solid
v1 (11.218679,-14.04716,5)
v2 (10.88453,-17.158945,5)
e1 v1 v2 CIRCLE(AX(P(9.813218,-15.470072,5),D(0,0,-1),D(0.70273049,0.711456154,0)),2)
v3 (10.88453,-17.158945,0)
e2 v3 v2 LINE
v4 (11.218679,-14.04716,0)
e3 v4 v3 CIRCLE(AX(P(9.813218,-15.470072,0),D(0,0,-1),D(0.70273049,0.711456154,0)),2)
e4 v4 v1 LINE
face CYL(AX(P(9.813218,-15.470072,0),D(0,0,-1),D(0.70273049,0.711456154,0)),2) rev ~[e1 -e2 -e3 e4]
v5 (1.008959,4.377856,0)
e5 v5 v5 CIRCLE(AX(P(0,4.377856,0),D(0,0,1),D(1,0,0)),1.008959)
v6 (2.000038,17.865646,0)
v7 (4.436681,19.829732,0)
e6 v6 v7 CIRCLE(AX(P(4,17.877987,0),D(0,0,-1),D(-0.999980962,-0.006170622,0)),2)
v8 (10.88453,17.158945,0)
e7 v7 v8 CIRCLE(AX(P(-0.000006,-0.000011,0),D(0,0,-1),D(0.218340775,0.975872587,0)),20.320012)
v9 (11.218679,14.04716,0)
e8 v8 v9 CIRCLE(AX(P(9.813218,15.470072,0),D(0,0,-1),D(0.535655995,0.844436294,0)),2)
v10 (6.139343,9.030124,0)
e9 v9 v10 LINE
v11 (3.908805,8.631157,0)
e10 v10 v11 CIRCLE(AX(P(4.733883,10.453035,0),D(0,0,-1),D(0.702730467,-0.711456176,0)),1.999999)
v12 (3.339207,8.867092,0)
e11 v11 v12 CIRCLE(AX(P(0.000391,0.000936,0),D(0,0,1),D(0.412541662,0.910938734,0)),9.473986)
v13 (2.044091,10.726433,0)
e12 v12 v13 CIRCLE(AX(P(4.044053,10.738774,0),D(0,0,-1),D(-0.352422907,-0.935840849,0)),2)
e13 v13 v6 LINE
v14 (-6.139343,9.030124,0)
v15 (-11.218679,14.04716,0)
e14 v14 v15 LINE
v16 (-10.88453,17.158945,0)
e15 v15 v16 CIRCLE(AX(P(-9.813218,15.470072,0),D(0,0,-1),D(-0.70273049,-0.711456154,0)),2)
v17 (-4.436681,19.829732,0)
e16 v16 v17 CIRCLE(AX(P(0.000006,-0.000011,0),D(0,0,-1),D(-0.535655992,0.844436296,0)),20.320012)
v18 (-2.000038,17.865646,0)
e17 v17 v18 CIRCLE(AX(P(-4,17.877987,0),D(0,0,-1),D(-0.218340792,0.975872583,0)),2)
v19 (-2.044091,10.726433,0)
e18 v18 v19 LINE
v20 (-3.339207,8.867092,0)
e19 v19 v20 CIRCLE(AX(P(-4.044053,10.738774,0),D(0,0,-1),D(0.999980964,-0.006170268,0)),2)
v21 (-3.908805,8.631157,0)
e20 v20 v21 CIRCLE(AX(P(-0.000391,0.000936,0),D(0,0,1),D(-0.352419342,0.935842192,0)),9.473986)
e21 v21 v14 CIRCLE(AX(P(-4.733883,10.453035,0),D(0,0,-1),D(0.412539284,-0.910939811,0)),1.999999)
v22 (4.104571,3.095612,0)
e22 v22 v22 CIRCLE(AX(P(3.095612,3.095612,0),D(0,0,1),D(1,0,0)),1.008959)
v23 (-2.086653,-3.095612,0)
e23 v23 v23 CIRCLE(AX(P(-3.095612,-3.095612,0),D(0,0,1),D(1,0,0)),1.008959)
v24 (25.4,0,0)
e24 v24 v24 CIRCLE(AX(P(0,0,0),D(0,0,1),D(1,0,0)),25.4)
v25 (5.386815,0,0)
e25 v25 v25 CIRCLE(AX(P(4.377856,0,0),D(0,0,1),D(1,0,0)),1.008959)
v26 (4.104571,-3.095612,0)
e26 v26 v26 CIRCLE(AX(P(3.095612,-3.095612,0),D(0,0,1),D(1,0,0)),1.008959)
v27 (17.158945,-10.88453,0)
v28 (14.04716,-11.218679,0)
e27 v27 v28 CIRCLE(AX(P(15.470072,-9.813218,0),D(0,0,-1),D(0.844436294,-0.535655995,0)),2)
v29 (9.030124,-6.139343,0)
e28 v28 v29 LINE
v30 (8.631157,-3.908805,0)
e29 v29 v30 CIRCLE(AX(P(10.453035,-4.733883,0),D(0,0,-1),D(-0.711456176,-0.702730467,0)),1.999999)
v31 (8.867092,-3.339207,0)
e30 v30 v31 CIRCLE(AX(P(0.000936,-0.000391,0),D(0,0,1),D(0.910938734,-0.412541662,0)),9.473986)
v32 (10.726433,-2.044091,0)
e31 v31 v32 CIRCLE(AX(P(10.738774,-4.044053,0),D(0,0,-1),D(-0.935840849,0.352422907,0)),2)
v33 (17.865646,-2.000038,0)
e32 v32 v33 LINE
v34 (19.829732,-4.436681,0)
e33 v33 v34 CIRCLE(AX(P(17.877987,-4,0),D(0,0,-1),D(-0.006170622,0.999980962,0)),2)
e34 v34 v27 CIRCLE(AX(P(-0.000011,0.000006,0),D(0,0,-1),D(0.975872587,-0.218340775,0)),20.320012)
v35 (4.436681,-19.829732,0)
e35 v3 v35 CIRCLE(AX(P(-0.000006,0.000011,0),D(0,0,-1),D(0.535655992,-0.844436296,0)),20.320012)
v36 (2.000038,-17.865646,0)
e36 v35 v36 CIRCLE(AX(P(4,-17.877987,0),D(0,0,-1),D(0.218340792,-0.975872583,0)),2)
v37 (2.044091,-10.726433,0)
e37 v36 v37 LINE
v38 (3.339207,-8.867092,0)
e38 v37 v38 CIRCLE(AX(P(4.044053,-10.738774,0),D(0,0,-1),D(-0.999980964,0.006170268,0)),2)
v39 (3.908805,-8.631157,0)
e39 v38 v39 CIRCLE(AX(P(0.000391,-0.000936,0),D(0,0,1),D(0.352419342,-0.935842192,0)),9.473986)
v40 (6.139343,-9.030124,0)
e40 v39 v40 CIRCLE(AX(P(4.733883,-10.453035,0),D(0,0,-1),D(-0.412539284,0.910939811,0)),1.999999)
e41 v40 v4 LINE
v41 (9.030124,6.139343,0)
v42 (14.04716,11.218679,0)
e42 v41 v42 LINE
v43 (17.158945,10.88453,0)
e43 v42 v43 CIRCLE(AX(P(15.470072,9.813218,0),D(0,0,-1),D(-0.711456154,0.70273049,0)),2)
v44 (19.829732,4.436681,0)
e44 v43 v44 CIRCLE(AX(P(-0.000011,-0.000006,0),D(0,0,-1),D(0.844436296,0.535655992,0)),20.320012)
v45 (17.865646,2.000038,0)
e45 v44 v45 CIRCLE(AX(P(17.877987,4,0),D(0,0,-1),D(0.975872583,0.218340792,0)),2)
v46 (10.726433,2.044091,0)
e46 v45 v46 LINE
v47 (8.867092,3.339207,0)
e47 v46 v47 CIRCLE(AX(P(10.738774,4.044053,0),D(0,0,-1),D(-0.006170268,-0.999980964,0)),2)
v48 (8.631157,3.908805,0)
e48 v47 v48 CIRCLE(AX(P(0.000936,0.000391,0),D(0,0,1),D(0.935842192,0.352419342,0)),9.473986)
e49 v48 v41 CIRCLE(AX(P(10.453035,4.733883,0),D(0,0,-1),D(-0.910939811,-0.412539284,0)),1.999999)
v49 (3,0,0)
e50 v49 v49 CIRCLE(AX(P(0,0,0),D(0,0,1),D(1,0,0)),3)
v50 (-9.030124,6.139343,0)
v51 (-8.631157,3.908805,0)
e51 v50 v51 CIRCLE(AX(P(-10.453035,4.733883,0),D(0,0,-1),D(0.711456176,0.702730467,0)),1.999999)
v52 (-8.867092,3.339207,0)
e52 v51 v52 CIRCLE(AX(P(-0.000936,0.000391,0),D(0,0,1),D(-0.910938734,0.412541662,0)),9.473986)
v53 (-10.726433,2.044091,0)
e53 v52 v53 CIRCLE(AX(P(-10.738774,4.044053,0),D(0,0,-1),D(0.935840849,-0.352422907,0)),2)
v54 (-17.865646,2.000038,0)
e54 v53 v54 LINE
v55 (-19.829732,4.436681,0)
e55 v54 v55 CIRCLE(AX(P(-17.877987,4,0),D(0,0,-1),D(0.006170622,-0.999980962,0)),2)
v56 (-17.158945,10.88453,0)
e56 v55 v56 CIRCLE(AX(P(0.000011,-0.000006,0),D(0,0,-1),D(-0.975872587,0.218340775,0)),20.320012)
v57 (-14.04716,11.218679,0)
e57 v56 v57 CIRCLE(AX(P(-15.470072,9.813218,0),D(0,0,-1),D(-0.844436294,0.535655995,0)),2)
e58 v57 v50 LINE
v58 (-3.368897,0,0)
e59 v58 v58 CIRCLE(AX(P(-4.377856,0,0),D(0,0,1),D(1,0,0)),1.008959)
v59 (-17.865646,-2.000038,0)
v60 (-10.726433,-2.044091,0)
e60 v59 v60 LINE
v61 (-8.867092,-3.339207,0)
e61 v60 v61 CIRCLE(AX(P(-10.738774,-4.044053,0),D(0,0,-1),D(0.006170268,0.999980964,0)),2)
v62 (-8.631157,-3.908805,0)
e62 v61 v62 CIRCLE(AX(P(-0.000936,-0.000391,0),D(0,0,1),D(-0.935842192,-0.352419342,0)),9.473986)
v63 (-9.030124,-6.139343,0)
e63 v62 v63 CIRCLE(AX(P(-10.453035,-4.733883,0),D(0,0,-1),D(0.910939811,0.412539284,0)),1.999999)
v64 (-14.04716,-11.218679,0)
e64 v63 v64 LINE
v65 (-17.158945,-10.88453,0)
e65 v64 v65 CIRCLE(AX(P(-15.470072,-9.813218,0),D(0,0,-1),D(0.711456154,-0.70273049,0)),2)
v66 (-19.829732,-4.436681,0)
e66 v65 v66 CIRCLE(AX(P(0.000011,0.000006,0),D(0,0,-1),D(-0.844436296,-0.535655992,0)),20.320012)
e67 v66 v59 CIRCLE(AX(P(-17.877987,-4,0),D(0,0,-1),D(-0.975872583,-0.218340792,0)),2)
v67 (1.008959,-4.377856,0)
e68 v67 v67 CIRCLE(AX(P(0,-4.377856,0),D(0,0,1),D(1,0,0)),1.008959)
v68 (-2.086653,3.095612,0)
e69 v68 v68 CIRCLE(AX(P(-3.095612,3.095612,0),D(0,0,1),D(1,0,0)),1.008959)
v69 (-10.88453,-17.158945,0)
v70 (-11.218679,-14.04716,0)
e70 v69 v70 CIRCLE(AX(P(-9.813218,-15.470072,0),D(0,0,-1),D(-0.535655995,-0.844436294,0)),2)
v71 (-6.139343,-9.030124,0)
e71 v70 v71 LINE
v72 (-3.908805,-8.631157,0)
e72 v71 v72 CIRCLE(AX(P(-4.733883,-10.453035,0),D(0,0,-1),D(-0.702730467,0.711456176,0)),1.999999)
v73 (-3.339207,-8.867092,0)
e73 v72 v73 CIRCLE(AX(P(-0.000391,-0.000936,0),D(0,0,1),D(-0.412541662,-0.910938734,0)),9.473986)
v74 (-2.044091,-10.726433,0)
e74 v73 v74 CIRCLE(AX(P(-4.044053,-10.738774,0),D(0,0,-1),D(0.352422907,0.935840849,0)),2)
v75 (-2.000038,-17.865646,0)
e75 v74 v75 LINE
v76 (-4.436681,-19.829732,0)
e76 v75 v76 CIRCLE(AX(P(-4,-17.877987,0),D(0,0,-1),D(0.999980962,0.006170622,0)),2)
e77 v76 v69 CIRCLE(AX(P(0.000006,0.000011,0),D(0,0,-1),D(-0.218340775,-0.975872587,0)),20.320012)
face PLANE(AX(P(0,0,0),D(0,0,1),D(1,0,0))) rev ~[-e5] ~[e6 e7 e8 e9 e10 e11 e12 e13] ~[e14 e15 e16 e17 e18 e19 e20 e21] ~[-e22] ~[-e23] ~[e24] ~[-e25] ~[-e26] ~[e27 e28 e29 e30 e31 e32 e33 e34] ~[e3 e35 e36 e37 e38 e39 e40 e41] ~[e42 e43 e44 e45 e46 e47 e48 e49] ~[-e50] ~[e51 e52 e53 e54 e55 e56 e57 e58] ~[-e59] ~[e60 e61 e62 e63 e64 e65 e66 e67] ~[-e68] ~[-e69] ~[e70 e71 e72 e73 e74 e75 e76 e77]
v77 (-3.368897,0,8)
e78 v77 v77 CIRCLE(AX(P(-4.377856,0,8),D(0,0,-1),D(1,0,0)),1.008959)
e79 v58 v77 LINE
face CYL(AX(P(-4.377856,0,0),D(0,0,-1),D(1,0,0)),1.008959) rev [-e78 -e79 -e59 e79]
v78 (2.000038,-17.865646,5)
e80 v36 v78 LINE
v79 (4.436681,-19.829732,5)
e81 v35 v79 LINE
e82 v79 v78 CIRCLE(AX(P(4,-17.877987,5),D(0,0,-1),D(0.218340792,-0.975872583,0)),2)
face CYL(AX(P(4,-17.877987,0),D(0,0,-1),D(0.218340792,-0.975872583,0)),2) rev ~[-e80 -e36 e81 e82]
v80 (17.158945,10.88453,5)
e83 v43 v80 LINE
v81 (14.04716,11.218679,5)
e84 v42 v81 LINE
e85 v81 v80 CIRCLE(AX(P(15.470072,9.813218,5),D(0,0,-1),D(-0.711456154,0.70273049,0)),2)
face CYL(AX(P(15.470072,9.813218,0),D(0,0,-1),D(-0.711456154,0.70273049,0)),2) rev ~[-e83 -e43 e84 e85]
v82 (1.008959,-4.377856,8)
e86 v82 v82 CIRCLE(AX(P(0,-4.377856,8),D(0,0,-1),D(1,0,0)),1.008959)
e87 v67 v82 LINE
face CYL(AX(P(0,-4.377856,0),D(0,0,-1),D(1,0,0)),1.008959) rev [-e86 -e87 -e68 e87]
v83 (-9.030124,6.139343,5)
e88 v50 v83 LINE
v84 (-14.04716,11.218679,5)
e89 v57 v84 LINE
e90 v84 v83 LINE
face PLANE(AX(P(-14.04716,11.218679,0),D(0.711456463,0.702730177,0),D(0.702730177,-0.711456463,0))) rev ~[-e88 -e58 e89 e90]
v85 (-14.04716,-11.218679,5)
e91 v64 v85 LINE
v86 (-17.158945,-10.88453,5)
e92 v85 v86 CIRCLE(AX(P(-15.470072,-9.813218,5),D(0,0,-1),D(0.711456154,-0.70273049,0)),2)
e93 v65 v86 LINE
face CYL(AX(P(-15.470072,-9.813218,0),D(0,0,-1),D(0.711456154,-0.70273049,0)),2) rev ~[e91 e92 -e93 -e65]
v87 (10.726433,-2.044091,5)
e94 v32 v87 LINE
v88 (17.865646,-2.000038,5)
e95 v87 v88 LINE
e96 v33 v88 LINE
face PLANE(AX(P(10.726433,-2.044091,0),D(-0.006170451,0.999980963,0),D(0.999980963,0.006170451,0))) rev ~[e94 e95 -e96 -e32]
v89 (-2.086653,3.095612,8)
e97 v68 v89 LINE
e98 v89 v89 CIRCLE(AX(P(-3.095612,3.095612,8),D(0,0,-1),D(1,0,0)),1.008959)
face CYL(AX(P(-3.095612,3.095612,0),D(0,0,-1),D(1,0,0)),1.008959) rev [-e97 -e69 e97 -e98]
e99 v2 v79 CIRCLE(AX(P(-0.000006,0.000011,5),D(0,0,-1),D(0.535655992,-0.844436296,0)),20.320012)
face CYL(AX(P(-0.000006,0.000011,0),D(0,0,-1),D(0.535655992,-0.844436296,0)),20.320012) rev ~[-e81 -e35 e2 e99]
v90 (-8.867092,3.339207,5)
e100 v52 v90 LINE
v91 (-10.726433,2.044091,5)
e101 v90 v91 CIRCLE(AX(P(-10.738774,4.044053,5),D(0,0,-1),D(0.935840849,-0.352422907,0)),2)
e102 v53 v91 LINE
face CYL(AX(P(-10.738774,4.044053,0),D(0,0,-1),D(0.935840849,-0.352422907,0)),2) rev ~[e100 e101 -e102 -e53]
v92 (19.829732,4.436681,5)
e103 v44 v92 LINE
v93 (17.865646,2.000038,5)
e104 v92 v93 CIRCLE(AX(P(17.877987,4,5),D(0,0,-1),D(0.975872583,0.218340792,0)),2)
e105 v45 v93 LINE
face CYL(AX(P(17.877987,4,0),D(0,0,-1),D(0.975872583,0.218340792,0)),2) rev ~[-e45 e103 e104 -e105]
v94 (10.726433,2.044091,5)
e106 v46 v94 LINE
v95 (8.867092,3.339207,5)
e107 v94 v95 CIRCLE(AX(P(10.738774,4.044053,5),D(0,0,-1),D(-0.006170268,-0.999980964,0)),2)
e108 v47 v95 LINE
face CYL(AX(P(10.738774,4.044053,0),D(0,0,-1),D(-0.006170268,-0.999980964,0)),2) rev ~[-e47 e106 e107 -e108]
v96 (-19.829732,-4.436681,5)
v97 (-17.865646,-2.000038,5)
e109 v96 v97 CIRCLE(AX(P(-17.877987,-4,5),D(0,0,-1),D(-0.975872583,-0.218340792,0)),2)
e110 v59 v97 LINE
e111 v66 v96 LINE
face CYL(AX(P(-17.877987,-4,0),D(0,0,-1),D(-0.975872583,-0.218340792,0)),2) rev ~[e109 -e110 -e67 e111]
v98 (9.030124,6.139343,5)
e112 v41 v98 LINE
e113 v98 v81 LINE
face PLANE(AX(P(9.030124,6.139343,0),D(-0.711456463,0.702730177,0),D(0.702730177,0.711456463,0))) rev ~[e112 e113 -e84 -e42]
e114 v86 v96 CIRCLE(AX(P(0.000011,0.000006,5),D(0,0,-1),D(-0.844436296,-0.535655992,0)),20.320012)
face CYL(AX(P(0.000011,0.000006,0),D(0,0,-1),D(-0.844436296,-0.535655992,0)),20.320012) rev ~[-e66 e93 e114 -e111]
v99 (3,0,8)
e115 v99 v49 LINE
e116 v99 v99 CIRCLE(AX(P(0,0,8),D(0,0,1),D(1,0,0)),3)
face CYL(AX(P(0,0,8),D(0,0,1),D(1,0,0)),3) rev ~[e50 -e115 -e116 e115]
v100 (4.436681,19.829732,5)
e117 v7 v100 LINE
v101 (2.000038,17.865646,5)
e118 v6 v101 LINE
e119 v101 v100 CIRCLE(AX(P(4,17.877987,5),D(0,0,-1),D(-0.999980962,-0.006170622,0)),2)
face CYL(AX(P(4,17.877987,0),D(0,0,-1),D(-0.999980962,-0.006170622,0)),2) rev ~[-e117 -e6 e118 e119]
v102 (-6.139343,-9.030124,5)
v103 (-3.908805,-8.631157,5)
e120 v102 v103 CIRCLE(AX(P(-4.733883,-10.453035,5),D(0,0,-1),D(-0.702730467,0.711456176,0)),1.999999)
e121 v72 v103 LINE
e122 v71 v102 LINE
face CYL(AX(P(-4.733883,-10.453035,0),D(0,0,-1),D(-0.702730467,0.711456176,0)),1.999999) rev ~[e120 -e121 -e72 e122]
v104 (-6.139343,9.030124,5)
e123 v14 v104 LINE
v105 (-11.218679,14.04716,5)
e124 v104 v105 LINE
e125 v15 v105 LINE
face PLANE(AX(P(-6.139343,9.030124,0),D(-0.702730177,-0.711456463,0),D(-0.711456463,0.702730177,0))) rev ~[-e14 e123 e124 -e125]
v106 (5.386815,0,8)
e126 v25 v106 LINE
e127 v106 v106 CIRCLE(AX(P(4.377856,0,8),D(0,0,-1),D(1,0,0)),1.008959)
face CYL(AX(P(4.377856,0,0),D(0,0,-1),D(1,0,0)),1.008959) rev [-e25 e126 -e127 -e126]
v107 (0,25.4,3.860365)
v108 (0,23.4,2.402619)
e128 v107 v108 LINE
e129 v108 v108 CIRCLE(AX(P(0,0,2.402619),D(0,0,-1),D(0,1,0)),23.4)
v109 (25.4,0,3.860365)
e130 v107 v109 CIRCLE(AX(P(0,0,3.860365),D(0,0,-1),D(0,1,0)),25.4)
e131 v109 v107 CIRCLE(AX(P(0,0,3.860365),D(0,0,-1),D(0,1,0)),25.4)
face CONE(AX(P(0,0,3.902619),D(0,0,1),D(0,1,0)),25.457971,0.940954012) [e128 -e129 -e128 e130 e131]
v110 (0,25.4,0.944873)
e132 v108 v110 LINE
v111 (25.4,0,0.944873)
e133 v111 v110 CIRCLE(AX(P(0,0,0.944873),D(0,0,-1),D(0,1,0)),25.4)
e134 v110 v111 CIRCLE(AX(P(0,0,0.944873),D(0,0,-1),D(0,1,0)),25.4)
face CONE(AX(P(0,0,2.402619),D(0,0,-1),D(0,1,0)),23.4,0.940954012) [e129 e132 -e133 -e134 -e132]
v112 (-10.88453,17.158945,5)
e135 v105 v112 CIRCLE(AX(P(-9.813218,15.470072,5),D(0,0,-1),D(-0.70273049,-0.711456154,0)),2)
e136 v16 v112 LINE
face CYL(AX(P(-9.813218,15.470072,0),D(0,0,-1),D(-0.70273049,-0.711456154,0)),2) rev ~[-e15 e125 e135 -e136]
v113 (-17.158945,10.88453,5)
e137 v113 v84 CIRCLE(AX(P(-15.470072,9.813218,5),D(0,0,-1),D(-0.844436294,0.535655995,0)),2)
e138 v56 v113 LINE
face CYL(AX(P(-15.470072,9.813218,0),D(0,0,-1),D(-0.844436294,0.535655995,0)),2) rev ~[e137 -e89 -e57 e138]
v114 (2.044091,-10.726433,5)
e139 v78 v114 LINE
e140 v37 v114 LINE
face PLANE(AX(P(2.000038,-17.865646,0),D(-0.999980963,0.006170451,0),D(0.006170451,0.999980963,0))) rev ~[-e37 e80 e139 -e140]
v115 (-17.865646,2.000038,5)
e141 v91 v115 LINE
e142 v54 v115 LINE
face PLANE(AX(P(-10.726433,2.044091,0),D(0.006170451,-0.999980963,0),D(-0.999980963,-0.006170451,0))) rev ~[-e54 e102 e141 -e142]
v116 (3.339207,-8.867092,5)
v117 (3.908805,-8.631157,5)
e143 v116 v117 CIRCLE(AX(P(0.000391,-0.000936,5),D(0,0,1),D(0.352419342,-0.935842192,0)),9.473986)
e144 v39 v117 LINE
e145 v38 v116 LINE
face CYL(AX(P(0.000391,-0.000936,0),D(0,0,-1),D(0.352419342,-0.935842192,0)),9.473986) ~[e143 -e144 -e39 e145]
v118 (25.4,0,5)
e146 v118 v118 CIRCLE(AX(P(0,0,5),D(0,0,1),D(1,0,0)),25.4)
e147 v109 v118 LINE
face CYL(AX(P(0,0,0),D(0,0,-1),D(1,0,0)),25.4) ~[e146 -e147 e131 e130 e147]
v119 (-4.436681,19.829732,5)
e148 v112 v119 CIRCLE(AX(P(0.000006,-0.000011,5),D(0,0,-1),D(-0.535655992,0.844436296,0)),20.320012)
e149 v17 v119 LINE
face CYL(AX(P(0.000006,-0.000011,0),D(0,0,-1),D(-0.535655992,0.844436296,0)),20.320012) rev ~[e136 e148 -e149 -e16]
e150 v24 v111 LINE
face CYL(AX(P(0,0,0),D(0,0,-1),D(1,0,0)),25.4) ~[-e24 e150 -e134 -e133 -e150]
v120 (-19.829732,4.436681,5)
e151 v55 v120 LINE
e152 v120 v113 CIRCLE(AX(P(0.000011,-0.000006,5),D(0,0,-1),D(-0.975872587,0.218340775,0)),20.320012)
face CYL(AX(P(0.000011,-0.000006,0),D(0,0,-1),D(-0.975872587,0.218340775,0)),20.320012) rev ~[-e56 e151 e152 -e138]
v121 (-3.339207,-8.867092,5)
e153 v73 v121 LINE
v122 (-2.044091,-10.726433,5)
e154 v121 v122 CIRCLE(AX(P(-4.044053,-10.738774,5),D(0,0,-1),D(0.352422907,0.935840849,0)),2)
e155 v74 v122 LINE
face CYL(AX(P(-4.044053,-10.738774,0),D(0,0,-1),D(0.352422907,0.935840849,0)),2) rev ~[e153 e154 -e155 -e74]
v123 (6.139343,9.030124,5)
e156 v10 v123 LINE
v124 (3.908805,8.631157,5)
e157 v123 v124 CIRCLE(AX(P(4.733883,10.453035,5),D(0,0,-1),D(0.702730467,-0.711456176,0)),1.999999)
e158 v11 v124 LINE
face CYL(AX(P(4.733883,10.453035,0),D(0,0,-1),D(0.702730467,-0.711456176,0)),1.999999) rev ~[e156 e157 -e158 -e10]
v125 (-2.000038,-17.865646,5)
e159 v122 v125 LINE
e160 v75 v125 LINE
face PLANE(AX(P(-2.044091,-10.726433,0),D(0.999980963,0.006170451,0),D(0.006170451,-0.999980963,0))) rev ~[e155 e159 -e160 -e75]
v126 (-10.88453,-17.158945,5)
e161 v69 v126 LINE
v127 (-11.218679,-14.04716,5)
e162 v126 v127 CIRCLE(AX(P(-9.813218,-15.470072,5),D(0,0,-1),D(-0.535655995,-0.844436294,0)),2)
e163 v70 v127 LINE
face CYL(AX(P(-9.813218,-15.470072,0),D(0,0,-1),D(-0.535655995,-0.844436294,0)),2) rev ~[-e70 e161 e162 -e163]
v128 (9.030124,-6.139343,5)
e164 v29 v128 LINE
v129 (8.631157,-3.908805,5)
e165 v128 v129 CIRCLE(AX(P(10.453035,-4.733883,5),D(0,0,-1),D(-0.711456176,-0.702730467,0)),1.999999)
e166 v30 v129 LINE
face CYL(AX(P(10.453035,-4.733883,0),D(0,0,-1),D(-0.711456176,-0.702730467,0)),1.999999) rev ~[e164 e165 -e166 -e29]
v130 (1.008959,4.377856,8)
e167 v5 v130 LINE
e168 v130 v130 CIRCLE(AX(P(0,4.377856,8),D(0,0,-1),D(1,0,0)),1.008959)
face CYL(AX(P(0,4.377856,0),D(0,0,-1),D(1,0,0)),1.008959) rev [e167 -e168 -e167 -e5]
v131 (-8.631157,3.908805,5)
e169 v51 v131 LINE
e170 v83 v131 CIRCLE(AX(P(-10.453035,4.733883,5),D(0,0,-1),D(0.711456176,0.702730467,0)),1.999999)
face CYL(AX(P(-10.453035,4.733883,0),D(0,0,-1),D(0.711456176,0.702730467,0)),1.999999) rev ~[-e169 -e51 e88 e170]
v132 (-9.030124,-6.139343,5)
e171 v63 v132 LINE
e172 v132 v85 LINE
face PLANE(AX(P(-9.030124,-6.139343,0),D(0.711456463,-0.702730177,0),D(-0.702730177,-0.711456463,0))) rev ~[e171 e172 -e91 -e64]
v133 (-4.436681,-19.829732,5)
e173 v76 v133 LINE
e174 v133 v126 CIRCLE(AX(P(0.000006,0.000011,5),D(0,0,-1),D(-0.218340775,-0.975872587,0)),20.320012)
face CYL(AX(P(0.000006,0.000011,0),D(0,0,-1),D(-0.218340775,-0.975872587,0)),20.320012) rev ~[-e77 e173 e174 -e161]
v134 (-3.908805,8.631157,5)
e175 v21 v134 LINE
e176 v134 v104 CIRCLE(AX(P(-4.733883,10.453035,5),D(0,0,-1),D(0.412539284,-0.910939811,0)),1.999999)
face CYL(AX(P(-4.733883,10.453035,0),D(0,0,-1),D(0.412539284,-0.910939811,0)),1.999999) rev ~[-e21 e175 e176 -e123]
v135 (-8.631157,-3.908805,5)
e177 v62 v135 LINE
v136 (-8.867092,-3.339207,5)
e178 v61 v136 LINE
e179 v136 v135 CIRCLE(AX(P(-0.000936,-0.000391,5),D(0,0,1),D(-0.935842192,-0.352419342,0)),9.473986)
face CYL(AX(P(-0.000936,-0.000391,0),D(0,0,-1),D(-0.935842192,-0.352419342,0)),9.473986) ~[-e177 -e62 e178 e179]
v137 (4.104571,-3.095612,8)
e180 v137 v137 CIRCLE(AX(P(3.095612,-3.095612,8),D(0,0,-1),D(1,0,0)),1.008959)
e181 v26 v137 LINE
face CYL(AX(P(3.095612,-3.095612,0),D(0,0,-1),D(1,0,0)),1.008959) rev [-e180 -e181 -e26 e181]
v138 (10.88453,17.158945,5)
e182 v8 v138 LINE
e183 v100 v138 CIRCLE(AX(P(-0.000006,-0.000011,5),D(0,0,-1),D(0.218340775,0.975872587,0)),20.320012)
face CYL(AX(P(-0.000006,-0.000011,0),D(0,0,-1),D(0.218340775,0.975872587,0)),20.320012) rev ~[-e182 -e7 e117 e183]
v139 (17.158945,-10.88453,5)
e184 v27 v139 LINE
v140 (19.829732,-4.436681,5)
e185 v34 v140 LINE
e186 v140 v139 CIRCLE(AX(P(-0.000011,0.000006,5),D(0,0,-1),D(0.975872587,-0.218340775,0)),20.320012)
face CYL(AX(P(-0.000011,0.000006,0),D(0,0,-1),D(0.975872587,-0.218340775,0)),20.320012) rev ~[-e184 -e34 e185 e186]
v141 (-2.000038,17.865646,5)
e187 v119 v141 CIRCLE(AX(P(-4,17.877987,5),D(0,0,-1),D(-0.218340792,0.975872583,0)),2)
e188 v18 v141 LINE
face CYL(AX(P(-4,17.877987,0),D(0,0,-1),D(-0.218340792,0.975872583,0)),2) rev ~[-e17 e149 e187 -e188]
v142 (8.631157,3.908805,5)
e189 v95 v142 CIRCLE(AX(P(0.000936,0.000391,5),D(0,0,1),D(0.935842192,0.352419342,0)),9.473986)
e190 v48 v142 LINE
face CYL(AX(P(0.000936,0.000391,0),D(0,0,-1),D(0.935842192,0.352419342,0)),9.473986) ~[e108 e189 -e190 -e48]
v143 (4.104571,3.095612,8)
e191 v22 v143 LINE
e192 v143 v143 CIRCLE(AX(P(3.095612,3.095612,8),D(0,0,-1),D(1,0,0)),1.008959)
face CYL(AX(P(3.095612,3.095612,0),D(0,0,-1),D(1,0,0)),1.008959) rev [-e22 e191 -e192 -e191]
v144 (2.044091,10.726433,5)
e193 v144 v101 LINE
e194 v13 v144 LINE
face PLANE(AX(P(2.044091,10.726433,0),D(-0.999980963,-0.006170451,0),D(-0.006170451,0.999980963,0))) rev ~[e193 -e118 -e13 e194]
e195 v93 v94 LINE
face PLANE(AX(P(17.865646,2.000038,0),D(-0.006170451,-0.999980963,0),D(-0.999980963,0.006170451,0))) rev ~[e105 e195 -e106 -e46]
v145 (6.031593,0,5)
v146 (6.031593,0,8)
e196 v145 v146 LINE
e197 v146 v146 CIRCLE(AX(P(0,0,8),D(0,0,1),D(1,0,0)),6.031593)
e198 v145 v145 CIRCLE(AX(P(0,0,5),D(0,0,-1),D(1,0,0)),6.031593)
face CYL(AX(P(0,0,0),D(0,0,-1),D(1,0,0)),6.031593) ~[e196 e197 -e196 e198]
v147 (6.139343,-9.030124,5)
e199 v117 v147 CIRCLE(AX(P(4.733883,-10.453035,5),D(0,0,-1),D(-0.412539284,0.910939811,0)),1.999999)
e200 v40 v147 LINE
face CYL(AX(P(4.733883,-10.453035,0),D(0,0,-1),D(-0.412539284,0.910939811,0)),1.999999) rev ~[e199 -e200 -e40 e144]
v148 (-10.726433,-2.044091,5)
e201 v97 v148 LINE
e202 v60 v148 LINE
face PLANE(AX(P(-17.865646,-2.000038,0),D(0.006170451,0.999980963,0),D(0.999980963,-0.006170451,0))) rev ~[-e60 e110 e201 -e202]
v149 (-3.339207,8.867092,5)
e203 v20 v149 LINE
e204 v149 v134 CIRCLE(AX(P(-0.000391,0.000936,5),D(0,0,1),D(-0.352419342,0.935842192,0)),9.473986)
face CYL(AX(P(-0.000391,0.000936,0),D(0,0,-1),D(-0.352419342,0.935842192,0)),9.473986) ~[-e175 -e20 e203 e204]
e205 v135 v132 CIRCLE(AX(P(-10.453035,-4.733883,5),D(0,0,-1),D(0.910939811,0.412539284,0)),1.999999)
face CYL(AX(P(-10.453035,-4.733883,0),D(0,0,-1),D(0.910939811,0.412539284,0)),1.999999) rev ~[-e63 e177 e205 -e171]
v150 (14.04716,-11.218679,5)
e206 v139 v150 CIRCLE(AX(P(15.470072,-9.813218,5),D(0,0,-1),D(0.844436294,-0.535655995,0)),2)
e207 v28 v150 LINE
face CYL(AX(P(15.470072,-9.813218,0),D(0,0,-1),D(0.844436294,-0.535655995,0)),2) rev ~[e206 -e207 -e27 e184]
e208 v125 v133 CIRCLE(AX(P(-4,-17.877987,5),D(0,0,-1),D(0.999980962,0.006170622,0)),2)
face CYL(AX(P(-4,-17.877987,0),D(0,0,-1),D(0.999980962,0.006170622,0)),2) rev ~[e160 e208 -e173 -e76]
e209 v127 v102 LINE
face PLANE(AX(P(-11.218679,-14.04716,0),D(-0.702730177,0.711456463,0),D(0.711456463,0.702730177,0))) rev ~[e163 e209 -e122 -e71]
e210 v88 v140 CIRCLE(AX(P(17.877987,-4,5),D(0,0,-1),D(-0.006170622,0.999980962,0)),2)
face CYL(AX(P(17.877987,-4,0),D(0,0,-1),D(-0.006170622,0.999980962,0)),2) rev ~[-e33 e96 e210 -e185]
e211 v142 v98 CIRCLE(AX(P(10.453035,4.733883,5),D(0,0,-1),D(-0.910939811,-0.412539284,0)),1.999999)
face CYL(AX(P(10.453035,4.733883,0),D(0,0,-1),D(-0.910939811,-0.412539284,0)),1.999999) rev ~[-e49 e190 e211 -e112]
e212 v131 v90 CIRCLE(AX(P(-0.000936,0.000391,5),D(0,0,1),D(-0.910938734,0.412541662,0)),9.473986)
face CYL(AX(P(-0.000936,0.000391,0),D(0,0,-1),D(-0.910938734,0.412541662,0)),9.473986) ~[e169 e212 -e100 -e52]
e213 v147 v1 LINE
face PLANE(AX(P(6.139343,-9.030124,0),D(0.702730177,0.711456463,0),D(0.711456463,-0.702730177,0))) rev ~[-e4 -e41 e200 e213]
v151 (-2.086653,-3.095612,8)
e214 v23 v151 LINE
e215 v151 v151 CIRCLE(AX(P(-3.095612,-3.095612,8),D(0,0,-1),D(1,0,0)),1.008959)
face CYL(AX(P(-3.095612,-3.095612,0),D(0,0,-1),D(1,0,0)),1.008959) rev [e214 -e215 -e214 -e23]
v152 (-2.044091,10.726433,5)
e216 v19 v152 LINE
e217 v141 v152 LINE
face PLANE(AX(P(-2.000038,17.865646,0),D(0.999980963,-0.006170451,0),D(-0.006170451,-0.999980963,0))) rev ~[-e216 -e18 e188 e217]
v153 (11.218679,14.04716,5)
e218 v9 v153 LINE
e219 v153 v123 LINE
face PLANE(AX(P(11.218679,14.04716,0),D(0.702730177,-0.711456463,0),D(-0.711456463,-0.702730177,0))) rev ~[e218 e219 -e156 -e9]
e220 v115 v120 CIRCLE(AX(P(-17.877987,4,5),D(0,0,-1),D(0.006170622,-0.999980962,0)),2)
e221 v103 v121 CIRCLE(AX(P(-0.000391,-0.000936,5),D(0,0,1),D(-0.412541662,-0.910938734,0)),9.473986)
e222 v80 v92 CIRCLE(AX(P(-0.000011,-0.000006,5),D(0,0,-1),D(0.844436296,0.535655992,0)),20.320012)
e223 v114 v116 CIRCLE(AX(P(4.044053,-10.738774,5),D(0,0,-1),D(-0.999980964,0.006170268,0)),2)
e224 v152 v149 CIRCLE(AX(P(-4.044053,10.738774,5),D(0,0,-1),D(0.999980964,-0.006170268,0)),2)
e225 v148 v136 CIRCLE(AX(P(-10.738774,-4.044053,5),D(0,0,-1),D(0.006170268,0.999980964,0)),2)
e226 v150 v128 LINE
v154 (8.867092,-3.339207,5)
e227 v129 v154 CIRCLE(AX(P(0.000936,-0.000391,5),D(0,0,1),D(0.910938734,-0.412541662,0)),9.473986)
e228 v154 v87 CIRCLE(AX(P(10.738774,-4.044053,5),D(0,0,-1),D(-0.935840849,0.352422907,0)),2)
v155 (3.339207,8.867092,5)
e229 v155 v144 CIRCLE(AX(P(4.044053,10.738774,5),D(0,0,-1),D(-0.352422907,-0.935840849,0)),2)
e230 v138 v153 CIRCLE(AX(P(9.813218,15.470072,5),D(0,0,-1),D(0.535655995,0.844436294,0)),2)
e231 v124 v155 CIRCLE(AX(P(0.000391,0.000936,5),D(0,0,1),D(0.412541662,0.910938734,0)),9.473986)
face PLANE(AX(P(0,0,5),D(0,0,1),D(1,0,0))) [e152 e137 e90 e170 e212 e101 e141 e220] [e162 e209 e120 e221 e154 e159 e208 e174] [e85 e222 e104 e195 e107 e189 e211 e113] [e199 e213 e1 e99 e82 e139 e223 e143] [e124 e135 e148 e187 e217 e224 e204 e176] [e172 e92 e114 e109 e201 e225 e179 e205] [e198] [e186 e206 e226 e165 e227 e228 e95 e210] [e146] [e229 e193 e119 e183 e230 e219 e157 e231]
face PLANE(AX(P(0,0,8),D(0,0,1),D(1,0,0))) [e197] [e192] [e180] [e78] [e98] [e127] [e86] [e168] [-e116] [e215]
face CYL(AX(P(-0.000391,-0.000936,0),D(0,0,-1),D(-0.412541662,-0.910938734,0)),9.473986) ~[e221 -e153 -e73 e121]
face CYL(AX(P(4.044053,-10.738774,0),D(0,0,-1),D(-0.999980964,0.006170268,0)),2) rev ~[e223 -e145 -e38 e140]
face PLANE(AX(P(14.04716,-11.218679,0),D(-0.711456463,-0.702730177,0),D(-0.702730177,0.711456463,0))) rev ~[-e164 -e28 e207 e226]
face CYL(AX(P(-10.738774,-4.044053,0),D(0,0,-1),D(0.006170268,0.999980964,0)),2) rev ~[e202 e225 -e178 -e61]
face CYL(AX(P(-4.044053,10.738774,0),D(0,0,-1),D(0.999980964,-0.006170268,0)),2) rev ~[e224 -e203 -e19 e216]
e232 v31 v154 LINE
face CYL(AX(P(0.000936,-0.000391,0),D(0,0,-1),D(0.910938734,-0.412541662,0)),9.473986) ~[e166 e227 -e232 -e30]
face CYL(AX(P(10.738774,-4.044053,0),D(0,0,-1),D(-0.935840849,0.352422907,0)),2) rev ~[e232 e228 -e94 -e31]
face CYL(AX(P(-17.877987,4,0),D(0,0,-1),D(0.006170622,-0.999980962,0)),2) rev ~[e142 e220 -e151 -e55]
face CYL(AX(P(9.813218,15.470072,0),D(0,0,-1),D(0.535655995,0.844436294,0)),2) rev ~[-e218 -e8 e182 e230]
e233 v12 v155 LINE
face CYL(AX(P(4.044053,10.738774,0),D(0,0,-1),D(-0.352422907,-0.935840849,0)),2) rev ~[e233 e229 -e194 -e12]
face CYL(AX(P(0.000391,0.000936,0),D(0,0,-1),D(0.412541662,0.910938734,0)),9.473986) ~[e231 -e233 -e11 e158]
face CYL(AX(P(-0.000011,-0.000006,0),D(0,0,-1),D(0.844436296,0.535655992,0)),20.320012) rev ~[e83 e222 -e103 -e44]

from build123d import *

# Parameters (mm, degrees)
F0_R     = 25.4
F0_R_2   = 3.125
F1_DEPTH = 5
F2_R     = 6.031593
F3_DEPTH = 8
F4_R     = 3
F5_DEPTH = 8.001
F8_R     = 1.008959
F9_DEPTH = 8.001


with BuildPart() as f1:
    # F0 (on Top) → F1 (new body)
    with BuildSketch(Plane.XY):
        Circle(F0_R)
        with BuildLine():
            ThreePointArc((-10.88453, -17.158945), (-11.801786, -15.683608), (-11.218679, -14.04716))
            Line((-11.218679, -14.04716), (-6.139343, -9.030124))
            ThreePointArc((-6.139343, -9.030124), (-5.086026, -8.484282), (-3.908805, -8.631157))
            ThreePointArc((-3.908805, -8.631157), (-3.625926, -8.753759), (-3.339207, -8.867092))
            ThreePointArc((-3.339207, -8.867092), (-2.40293, -9.595657), (-2.044091, -10.726433))
            Line((-2.044091, -10.726433), (-2.000038, -17.865646))
            ThreePointArc((-2.000038, -17.865646), (-2.744862, -19.435109), (-4.436681, -19.829732))
            ThreePointArc((-4.436681, -19.829732), (-7.776127, -18.773232), (-10.88453, -17.158945))
        make_face(mode=Mode.SUBTRACT)
        with BuildLine():
            ThreePointArc((-19.829732, -4.436681), (-19.435109, -2.744862), (-17.865646, -2.000038))
            Line((-17.865646, -2.000038), (-10.726433, -2.044091))
            ThreePointArc((-10.726433, -2.044091), (-9.595657, -2.40293), (-8.867092, -3.339207))
            ThreePointArc((-8.867092, -3.339207), (-8.753759, -3.625926), (-8.631157, -3.908805))
            ThreePointArc((-8.631157, -3.908805), (-8.484282, -5.086026), (-9.030124, -6.139343))
            Line((-9.030124, -6.139343), (-14.04716, -11.218679))
            ThreePointArc((-14.04716, -11.218679), (-15.683608, -11.801786), (-17.158945, -10.88453))
            ThreePointArc((-17.158945, -10.88453), (-18.773232, -7.776127), (-19.829732, -4.436681))
        make_face(mode=Mode.SUBTRACT)
        Circle(F0_R_2, mode=Mode.SUBTRACT)
        with BuildLine():
            ThreePointArc((4.436681, -19.829732), (2.744862, -19.435109), (2.000038, -17.865646))
            Line((2.000038, -17.865646), (2.044091, -10.726433))
            ThreePointArc((2.044091, -10.726433), (2.40293, -9.595657), (3.339207, -8.867092))
            ThreePointArc((3.339207, -8.867092), (3.625926, -8.753759), (3.908805, -8.631157))
            ThreePointArc((3.908805, -8.631157), (5.086026, -8.484282), (6.139343, -9.030124))
            Line((6.139343, -9.030124), (11.218679, -14.04716))
            ThreePointArc((11.218679, -14.04716), (11.801786, -15.683608), (10.88453, -17.158945))
            ThreePointArc((10.88453, -17.158945), (7.776127, -18.773232), (4.436681, -19.829732))
        make_face(mode=Mode.SUBTRACT)
        with BuildLine():
            ThreePointArc((17.158945, -10.88453), (15.683608, -11.801786), (14.04716, -11.218679))
            Line((14.04716, -11.218679), (9.030124, -6.139343))
            ThreePointArc((9.030124, -6.139343), (8.484282, -5.086026), (8.631157, -3.908805))
            ThreePointArc((8.631157, -3.908805), (8.753759, -3.625926), (8.867092, -3.339207))
            ThreePointArc((8.867092, -3.339207), (9.595657, -2.40293), (10.726433, -2.044091))
            Line((10.726433, -2.044091), (17.865646, -2.000038))
            ThreePointArc((17.865646, -2.000038), (19.435109, -2.744862), (19.829732, -4.436681))
            ThreePointArc((19.829732, -4.436681), (18.773232, -7.776127), (17.158945, -10.88453))
        make_face(mode=Mode.SUBTRACT)
        with BuildLine():
            ThreePointArc((-17.158945, 10.88453), (-15.683608, 11.801786), (-14.04716, 11.218679))
            Line((-14.04716, 11.218679), (-9.030124, 6.139343))
            ThreePointArc((-9.030124, 6.139343), (-8.484282, 5.086026), (-8.631157, 3.908805))
            ThreePointArc((-8.631157, 3.908805), (-8.753759, 3.625926), (-8.867092, 3.339207))
            ThreePointArc((-8.867092, 3.339207), (-9.595657, 2.40293), (-10.726433, 2.044091))
            Line((-10.726433, 2.044091), (-17.865646, 2.000038))
            ThreePointArc((-17.865646, 2.000038), (-19.435109, 2.744862), (-19.829732, 4.436681))
            ThreePointArc((-19.829732, 4.436681), (-18.773232, 7.776127), (-17.158945, 10.88453))
        make_face(mode=Mode.SUBTRACT)
        with BuildLine():
            ThreePointArc((-10.88453, 17.158945), (-7.776127, 18.773232), (-4.436681, 19.829732))
            ThreePointArc((-4.436681, 19.829732), (-2.744862, 19.435109), (-2.000038, 17.865646))
            Line((-2.000038, 17.865646), (-2.044091, 10.726433))
            ThreePointArc((-2.044091, 10.726433), (-2.40293, 9.595657), (-3.339207, 8.867092))
            ThreePointArc((-3.339207, 8.867092), (-3.625926, 8.753759), (-3.908805, 8.631157))
            ThreePointArc((-3.908805, 8.631157), (-5.086026, 8.484282), (-6.139343, 9.030124))
            Line((-6.139343, 9.030124), (-11.218679, 14.04716))
            ThreePointArc((-11.218679, 14.04716), (-11.801786, 15.683608), (-10.88453, 17.158945))
        make_face(mode=Mode.SUBTRACT)
        with BuildLine():
            ThreePointArc((19.829732, 4.436681), (19.435109, 2.744862), (17.865646, 2.000038))
            Line((17.865646, 2.000038), (10.726433, 2.044091))
            ThreePointArc((10.726433, 2.044091), (9.595657, 2.40293), (8.867092, 3.339207))
            ThreePointArc((8.867092, 3.339207), (8.753759, 3.625926), (8.631157, 3.908805))
            ThreePointArc((8.631157, 3.908805), (8.484282, 5.086026), (9.030124, 6.139343))
            Line((9.030124, 6.139343), (14.04716, 11.218679))
            ThreePointArc((14.04716, 11.218679), (15.683608, 11.801786), (17.158945, 10.88453))
            ThreePointArc((17.158945, 10.88453), (18.773232, 7.776127), (19.829732, 4.436681))
        make_face(mode=Mode.SUBTRACT)
        with BuildLine():
            Line((2.044091, 10.726433), (2.000038, 17.865646))
            ThreePointArc((2.000038, 17.865646), (2.744862, 19.435109), (4.436681, 19.829732))
            ThreePointArc((4.436681, 19.829732), (7.776127, 18.773232), (10.88453, 17.158945))
            ThreePointArc((10.88453, 17.158945), (11.801786, 15.683608), (11.218679, 14.04716))
            Line((11.218679, 14.04716), (6.139343, 9.030124))
            ThreePointArc((6.139343, 9.030124), (5.086026, 8.484282), (3.908805, 8.631157))
            ThreePointArc((3.908805, 8.631157), (3.625926, 8.753759), (3.339207, 8.867092))
            ThreePointArc((3.339207, 8.867092), (2.40293, 9.595657), (2.044091, 10.726433))
        make_face(mode=Mode.SUBTRACT)
    extrude(amount=F1_DEPTH)

    # F2 (on Top) → F3 (join)
    with BuildSketch(Plane.XY):
        Circle(F2_R)
    extrude(amount=F3_DEPTH)

    # F4 (on face) → F5 (cut, through all)
    with BuildSketch(Plane.XY.offset(8)):
        Circle(F4_R)
    extrude(amount=-F5_DEPTH, mode=Mode.SUBTRACT)

    # F6 (on Right) → F7 (revolve, cut)
    with BuildSketch(Plane.YZ):
        Polygon((25.457971, 0.902619), (25.4, 2.402619), (23.4, 2.402619), align=None)
        Polygon((23.4, 2.402619), (25.4, 2.402619), (25.457971, 3.902619), align=None)
    revolve(axis=Axis((0, 0, 8.098846), (0, 0, -1)), mode=Mode.SUBTRACT)

    # F8 (on Top) → F9 (cut, through all)
    with BuildSketch(Plane.XY):
        with Locations((0, 4.377856)):
            Circle(F8_R)
        with Locations((-3.095612, 3.095612)):
            Circle(F8_R)
        with Locations((-4.377856, 0)):
            Circle(F8_R)
        with Locations((-3.095612, -3.095612)):
            Circle(F8_R)
        with Locations((0, -4.377856)):
            Circle(F8_R)
        with Locations((3.095612, -3.095612)):
            Circle(F8_R)
        with Locations((4.377856, 0)):
            Circle(F8_R)
        with Locations((3.095612, 3.095612)):
            Circle(F8_R)
    extrude(amount=F9_DEPTH, mode=Mode.SUBTRACT)


solid = f1.part
